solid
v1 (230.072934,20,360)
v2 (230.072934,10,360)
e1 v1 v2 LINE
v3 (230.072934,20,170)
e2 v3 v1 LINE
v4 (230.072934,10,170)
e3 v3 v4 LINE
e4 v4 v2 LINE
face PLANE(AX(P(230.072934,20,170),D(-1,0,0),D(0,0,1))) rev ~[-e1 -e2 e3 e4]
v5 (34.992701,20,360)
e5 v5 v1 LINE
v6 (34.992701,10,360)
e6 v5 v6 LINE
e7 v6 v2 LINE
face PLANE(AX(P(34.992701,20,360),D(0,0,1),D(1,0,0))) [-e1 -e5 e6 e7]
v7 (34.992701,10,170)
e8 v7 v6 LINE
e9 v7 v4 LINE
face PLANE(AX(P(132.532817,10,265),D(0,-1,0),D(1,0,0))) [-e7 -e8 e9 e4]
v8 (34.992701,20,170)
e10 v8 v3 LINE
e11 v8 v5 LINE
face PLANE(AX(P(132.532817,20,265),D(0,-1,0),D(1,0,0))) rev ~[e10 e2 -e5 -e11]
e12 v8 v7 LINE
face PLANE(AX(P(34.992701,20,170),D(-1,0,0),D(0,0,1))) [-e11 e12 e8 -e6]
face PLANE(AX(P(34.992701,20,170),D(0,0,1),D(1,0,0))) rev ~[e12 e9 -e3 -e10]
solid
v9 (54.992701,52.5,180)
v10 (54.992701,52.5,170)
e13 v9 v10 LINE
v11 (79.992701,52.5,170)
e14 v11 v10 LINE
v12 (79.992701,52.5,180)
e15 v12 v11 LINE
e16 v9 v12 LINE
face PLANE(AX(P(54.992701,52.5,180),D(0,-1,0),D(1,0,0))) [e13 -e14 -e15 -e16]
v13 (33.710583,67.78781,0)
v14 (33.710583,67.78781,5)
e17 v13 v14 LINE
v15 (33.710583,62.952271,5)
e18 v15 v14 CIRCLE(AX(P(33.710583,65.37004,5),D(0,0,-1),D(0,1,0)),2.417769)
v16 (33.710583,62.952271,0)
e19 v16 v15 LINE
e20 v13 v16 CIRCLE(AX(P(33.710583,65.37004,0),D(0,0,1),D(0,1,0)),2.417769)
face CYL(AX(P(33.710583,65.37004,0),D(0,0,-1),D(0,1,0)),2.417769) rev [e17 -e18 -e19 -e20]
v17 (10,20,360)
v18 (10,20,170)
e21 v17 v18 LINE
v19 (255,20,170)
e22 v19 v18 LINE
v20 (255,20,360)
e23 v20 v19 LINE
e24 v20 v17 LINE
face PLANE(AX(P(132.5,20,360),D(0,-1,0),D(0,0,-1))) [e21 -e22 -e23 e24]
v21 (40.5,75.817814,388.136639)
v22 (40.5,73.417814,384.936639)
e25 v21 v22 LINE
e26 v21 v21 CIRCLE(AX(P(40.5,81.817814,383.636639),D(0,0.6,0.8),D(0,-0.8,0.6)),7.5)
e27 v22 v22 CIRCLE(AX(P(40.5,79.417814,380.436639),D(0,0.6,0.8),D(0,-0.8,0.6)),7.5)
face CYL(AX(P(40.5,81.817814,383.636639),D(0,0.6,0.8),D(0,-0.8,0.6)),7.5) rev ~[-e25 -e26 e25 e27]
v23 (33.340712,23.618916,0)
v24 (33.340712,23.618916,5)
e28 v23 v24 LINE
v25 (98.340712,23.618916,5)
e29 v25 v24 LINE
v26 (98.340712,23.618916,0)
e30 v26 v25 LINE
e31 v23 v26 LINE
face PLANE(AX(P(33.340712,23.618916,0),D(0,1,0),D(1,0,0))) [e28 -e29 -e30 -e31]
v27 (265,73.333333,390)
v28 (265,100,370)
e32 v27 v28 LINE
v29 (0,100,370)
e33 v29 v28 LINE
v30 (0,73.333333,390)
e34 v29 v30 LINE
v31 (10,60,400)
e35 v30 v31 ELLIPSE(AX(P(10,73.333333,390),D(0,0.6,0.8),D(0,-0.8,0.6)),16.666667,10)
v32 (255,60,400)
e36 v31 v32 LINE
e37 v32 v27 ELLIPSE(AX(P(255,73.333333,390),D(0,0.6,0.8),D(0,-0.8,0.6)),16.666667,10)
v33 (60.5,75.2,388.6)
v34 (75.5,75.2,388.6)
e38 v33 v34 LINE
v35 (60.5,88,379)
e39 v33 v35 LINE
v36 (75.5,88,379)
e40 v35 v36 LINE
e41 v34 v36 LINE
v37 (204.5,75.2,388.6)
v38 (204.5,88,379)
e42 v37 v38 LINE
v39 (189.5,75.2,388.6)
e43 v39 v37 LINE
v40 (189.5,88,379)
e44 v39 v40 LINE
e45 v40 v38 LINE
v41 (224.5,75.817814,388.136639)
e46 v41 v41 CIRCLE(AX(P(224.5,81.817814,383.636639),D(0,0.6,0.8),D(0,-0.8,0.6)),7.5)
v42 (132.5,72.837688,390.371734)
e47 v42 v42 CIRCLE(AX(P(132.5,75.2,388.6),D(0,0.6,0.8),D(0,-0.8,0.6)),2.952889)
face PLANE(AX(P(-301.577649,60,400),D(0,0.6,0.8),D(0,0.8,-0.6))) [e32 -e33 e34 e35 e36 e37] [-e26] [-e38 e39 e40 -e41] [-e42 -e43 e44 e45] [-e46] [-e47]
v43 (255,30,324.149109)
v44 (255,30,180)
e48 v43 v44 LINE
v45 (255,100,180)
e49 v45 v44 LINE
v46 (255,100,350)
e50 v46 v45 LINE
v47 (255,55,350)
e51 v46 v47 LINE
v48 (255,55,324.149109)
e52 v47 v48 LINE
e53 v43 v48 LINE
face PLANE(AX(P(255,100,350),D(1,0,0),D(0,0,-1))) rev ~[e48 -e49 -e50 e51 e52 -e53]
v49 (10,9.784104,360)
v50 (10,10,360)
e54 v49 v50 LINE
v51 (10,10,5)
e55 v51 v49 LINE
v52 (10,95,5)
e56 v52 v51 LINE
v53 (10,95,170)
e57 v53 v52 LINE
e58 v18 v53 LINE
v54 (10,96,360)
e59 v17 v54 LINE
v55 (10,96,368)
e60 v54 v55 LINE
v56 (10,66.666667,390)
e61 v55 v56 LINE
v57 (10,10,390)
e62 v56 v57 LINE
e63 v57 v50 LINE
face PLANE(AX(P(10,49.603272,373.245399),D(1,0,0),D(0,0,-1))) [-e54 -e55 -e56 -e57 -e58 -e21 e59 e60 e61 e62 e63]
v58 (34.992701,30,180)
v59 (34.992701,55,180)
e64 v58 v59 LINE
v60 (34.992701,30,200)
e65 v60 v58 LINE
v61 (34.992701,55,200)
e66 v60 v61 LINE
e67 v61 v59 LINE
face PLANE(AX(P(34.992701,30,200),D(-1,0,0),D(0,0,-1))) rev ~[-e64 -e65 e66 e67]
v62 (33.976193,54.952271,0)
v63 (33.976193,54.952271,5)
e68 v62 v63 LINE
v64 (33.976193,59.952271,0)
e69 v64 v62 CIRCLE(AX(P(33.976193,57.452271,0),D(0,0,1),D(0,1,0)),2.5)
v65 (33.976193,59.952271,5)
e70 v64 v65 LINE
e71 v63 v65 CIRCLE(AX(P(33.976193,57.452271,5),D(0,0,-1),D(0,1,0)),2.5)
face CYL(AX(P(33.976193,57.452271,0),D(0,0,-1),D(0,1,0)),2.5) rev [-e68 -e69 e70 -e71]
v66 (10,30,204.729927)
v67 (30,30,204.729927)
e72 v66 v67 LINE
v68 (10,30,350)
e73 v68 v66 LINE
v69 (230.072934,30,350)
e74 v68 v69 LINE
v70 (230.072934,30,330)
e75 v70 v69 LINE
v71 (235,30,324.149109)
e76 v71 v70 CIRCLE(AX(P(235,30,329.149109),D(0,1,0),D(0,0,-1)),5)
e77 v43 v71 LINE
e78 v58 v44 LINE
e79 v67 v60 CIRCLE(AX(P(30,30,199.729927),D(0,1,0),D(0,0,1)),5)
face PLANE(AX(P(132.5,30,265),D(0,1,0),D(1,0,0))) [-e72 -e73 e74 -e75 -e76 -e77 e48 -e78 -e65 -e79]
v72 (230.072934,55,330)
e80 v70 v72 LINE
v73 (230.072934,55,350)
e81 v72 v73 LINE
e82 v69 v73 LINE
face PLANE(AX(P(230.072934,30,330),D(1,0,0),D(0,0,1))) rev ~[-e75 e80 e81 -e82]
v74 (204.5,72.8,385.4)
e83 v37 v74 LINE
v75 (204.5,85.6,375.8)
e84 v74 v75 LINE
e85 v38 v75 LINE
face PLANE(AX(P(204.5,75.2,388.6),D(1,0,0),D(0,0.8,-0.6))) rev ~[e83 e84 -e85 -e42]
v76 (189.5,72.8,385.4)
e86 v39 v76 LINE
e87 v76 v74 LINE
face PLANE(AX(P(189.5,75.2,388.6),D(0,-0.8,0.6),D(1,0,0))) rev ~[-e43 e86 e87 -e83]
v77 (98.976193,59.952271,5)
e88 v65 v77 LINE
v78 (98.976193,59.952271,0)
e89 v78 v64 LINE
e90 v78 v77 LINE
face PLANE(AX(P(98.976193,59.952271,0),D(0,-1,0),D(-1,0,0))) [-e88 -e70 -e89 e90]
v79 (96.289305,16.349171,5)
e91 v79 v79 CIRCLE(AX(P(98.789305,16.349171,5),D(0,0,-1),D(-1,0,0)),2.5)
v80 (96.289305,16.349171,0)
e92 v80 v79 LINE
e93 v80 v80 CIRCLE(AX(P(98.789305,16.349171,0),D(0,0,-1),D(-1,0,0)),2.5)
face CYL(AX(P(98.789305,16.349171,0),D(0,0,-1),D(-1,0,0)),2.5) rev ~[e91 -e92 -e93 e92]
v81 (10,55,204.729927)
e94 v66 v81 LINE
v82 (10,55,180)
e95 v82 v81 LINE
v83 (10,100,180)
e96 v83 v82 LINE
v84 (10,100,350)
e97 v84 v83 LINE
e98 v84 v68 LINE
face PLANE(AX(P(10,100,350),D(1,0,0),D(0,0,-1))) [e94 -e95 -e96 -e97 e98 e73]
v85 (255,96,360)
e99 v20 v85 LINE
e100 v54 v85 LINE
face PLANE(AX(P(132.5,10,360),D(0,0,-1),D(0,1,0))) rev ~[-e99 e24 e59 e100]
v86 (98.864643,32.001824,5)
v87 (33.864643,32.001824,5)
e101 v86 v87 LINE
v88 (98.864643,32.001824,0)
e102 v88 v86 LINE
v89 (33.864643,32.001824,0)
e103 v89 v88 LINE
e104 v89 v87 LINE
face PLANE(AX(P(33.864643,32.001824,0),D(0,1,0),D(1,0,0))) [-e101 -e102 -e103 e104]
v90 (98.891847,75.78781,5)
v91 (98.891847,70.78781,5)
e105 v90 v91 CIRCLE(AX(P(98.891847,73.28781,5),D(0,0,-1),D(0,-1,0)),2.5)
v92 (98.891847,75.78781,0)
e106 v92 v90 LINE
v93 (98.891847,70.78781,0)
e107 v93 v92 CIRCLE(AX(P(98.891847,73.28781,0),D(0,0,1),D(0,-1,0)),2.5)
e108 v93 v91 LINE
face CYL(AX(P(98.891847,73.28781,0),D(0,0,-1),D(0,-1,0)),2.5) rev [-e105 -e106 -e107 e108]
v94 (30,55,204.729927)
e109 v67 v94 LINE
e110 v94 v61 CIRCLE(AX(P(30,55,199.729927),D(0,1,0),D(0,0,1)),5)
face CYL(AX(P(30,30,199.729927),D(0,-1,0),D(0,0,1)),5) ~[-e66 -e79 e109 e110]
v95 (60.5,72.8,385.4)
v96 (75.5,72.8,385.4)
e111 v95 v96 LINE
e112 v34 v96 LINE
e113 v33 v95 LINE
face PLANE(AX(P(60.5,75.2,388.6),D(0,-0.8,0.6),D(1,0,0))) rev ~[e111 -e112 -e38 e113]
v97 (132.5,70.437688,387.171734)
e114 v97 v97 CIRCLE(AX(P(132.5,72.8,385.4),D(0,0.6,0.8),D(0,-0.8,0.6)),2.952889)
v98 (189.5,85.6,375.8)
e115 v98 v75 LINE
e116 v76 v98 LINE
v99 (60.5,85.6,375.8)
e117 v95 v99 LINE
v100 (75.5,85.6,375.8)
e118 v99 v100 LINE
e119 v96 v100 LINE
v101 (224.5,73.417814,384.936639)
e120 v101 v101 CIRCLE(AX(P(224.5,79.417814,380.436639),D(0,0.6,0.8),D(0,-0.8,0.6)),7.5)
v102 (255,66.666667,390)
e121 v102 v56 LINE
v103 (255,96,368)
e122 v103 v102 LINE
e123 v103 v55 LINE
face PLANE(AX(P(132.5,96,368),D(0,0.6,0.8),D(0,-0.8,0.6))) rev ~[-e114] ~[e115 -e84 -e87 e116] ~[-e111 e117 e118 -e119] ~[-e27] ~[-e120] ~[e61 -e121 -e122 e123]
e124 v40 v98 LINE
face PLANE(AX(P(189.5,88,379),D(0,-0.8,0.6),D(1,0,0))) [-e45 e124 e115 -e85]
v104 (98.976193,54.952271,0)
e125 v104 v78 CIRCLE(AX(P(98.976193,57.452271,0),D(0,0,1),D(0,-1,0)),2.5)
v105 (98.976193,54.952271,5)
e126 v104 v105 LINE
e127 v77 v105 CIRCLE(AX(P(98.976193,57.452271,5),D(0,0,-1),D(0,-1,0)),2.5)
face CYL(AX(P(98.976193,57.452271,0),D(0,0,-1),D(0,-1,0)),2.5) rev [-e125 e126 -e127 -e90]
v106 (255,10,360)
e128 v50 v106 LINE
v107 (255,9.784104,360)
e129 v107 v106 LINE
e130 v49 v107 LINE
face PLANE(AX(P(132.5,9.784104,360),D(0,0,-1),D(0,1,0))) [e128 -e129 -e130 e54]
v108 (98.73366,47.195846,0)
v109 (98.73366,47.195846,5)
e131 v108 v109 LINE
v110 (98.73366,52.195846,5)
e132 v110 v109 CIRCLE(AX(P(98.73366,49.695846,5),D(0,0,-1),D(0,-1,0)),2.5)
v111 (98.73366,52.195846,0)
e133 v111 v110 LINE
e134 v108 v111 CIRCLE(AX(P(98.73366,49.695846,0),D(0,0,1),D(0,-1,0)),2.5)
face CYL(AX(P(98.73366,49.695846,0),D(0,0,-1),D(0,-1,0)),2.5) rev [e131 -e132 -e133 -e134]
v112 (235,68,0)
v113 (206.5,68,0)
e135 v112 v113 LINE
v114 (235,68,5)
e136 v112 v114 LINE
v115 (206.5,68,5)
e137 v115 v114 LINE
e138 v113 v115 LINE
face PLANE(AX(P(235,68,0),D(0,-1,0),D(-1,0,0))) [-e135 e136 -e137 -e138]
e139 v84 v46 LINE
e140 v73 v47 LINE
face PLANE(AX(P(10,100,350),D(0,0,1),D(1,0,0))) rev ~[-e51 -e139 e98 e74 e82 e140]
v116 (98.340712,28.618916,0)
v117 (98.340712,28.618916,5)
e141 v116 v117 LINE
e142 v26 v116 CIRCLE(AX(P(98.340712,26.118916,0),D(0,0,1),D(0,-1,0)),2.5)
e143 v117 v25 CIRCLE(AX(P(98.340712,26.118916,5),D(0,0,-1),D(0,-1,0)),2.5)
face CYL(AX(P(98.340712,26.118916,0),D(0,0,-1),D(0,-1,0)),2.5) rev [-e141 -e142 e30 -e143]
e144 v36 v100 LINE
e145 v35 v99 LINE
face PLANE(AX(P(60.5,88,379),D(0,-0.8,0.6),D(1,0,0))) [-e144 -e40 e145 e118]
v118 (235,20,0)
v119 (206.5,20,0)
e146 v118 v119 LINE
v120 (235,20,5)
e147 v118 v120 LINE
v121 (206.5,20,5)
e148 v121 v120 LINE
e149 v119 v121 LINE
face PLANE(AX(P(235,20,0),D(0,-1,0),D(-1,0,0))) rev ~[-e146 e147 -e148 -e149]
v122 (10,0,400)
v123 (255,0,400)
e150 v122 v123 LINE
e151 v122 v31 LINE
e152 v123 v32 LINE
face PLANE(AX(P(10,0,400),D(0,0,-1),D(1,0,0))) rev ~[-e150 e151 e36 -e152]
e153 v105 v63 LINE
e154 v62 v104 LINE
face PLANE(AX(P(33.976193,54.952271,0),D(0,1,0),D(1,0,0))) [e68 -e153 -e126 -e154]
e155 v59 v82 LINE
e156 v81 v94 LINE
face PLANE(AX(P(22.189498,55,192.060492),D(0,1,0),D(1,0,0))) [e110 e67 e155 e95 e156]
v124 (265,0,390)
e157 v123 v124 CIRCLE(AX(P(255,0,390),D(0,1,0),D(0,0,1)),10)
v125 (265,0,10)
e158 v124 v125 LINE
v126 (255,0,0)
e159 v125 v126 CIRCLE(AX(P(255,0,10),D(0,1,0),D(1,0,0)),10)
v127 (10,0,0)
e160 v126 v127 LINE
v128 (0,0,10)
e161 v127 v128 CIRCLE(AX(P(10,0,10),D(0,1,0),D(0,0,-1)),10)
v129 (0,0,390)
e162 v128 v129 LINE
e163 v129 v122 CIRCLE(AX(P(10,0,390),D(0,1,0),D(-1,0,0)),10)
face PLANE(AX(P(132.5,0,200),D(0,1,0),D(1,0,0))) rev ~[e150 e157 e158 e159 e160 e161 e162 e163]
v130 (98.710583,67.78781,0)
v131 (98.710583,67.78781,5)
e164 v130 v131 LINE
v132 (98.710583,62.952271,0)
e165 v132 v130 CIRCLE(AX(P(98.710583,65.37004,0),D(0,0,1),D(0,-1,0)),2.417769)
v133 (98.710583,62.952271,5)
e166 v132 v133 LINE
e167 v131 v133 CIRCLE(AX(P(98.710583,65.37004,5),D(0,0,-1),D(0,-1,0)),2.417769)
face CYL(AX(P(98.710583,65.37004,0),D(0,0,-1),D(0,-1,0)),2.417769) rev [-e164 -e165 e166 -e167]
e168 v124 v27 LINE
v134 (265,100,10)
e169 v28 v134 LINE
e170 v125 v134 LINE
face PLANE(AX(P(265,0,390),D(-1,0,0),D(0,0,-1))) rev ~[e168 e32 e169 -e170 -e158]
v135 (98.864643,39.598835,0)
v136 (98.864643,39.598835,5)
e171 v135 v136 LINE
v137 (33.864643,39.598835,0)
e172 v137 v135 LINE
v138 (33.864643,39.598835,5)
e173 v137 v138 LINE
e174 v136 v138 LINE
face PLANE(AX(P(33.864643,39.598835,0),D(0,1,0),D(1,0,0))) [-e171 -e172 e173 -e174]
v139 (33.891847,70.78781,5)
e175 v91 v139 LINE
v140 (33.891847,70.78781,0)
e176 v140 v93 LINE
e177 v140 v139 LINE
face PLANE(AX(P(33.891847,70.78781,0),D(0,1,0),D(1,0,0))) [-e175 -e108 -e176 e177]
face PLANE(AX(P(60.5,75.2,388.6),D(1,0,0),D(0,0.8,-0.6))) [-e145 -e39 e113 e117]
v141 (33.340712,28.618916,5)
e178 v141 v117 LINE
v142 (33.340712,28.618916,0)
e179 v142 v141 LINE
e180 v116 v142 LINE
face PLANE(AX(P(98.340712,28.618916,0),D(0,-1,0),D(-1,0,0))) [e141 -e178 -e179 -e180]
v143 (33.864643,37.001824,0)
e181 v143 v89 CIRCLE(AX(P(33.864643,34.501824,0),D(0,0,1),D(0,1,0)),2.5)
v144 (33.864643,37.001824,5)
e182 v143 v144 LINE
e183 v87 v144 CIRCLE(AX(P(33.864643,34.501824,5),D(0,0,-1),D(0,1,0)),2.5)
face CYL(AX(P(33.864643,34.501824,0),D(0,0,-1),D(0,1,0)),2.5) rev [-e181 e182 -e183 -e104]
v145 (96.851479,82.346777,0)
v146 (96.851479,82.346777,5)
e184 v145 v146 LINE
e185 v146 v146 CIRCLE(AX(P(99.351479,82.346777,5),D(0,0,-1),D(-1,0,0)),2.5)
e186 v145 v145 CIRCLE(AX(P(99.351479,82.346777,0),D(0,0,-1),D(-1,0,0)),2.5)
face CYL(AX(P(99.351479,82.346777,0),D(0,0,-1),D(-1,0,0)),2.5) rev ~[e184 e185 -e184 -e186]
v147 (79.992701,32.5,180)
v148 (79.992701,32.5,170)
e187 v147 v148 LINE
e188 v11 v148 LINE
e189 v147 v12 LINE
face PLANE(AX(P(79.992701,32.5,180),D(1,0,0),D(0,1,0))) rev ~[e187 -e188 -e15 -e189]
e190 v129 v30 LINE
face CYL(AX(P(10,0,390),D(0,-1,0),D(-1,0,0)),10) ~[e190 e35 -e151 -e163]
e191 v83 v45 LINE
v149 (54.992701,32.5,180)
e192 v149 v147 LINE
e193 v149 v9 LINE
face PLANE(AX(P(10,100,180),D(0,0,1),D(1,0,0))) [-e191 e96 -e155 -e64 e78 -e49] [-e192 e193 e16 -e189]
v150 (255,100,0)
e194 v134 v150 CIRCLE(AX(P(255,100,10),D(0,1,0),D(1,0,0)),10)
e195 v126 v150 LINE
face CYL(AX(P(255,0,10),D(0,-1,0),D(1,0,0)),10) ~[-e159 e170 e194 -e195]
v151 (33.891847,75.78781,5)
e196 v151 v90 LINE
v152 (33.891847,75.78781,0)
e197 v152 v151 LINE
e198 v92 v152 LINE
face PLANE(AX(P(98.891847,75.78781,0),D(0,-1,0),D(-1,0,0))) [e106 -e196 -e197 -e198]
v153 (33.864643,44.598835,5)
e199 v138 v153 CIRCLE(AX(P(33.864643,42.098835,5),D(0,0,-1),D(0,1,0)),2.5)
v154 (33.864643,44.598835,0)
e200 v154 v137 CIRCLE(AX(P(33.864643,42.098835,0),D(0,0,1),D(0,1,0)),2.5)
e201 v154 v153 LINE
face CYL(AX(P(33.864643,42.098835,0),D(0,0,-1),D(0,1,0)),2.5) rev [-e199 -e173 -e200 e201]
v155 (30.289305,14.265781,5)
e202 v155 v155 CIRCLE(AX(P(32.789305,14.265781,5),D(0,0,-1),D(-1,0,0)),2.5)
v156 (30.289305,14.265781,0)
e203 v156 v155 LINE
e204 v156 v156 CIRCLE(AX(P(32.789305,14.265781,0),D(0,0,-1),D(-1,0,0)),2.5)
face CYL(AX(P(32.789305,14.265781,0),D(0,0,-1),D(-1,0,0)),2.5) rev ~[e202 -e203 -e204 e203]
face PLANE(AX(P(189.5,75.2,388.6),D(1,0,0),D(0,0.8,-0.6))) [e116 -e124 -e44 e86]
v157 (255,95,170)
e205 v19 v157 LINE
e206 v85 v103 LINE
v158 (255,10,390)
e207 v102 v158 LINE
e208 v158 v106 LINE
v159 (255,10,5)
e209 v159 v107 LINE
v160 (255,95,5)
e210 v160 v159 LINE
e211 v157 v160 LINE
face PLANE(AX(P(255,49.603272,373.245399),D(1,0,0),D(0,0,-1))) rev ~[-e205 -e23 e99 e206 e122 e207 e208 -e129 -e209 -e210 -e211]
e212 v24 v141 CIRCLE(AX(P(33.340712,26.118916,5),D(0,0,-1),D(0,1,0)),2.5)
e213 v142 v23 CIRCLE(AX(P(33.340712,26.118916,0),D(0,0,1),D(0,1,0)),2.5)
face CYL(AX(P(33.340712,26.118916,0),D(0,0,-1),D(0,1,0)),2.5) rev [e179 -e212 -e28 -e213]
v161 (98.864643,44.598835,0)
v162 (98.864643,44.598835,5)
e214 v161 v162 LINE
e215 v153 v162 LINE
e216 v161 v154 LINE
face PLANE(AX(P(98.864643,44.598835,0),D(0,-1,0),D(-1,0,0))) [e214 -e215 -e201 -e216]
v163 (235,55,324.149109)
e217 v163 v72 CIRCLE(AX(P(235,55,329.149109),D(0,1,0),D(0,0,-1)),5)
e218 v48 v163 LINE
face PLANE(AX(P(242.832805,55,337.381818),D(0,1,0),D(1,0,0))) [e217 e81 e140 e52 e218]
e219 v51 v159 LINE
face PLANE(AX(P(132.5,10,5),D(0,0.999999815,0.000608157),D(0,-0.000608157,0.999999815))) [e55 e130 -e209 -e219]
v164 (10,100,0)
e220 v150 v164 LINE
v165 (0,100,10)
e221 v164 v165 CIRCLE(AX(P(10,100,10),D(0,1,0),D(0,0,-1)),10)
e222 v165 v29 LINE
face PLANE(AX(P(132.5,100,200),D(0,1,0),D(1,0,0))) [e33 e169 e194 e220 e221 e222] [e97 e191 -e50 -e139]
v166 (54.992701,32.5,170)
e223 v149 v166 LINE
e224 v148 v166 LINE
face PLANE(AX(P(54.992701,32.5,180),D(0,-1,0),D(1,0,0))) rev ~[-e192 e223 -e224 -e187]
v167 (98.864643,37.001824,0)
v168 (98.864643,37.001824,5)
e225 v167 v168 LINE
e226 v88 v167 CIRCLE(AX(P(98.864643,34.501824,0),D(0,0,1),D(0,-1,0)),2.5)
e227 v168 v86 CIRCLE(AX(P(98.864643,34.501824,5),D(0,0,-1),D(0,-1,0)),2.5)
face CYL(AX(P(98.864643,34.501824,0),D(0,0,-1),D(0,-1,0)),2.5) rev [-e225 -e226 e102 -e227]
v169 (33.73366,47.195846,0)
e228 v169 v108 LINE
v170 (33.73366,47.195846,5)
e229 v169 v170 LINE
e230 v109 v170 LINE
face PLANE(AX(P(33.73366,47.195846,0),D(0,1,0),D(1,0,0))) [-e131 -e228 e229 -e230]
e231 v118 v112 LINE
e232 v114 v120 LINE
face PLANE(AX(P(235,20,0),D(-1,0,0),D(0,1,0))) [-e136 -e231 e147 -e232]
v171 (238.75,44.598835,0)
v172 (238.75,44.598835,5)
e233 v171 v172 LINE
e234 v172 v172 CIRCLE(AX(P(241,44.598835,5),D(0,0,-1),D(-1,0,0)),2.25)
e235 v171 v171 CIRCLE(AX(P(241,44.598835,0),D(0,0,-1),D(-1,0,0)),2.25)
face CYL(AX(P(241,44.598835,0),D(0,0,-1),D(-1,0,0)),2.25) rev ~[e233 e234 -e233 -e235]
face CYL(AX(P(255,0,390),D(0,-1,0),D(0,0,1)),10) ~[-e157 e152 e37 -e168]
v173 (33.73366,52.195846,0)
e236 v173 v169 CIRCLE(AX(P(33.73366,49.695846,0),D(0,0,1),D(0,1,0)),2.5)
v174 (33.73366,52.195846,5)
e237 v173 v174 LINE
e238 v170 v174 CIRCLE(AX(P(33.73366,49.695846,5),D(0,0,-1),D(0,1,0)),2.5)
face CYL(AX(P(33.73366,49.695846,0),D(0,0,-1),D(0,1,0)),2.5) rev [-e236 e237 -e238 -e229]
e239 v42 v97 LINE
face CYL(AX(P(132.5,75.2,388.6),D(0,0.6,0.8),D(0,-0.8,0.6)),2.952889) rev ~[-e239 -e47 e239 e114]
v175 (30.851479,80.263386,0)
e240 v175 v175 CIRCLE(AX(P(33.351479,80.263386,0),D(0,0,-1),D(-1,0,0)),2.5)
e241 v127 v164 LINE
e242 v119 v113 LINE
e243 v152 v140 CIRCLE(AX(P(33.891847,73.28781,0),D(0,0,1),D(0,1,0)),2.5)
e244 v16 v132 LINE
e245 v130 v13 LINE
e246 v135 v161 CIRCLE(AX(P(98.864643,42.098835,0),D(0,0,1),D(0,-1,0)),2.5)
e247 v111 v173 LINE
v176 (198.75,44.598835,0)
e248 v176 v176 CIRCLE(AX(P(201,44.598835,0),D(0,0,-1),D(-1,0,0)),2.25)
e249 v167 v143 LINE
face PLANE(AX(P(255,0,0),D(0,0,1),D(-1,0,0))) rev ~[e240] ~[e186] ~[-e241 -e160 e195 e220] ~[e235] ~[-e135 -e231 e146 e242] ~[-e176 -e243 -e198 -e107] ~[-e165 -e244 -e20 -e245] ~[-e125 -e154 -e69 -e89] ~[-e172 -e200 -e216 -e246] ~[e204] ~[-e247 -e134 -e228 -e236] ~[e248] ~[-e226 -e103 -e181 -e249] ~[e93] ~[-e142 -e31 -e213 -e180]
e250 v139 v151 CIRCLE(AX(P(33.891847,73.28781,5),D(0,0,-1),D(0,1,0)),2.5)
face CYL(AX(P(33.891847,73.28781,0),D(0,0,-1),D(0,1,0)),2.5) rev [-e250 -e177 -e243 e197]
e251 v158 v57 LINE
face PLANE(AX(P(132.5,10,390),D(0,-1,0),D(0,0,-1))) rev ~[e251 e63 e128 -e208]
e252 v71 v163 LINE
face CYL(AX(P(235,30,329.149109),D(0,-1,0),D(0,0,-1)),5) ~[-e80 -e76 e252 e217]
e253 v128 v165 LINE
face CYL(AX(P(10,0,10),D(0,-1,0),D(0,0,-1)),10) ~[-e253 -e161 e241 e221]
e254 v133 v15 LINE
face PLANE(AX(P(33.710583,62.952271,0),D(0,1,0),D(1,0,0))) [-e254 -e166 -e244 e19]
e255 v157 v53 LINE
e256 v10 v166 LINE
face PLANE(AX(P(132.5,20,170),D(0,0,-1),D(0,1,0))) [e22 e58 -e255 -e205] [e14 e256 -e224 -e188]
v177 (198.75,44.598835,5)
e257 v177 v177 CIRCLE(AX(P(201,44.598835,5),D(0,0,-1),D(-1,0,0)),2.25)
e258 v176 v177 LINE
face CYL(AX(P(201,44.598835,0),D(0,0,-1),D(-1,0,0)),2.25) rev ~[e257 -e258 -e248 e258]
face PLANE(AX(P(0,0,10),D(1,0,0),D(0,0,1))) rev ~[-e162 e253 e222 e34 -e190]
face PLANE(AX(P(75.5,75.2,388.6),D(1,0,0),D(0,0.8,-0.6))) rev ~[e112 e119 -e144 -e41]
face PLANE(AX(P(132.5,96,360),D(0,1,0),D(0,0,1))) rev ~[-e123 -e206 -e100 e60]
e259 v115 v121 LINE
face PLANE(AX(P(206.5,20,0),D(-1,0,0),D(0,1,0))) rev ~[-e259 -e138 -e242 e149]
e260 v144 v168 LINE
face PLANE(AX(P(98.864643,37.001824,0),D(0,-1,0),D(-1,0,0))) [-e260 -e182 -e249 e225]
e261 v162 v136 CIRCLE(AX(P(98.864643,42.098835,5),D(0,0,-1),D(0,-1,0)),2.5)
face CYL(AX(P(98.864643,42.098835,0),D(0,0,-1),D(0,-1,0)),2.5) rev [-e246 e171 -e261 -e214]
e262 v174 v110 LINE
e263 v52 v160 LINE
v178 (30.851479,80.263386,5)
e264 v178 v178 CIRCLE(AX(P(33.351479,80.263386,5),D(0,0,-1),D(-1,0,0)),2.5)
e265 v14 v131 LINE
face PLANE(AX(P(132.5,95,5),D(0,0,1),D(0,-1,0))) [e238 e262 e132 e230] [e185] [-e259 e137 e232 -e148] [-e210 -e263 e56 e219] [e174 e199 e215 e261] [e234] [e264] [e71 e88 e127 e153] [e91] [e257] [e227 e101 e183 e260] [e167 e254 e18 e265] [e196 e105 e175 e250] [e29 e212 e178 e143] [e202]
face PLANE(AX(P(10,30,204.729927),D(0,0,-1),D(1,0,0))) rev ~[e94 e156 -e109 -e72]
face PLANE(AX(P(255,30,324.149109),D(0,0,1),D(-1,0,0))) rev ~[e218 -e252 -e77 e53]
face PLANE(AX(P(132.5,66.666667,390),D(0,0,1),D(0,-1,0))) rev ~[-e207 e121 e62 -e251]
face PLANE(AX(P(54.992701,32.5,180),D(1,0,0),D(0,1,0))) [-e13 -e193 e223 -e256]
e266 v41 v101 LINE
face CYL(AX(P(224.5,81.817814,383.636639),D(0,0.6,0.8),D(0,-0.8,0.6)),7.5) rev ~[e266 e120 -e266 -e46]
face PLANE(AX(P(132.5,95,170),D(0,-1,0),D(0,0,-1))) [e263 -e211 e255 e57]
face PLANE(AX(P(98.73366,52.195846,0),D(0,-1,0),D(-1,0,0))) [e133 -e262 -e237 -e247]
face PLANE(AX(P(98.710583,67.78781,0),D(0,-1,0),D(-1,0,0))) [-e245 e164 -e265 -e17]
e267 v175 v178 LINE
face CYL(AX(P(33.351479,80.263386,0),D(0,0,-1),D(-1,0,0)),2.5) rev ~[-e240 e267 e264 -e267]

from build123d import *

# Parameters (mm, degrees)
BOSS_EXTRUDE2_DEPTH      = 100
SKETCH4_W                = 245
SKETCH4_H                = 170
CUT_EXTRUDE2_DEPTH       = 70
CUT_EXTRUDE12_DEPTH      = 434.077648927
CUT_EXTRUDE12_DEPTH_BACK = 434.077648927
CUT_EXTRUDE13_DEPTH      = 122.5
CUT_EXTRUDE14_DEPTH      = 122.5
SKETCH16_R               = 2.5
SKETCH16_R_2             = 2.25
SKETCH16_W               = 28.5
SKETCH16_H               = 48
CUT_EXTRUDE15_DEPTH      = 30
SKETCH17_R               = 2.952889484
SKETCH17_R_2             = 7.5
SKETCH17_W               = 15
SKETCH17_H               = 16
CUT_EXTRUDE16_DEPTH      = 10
BOSS_EXTRUDE3_DEPTH      = 25
SKETCH19_W               = 25
SKETCH19_H               = 20
CUT_EXTRUDE17_DEPTH      = 15
SKETCH21_W               = 195.080232819
SKETCH21_H               = 190
BOSS_EXTRUDE9_DEPTH      = 10


with BuildPart() as part:
    # Sketch1 → Boss-Extrude2 (new body)
    with BuildSketch(Plane(origin=(0, 0, 0), x_dir=(1, 0, 0), z_dir=(0, 1, 0))):
        with BuildLine():
            Line((0, -10), (0, -390))
            ThreePointArc((0, -390), (2.928932188, -397.071067812), (10, -400))
            Line((10, -400), (255, -400))
            ThreePointArc((255, -400), (262.071067812, -397.071067812), (265, -390))
            Line((265, -390), (265, -10))
            ThreePointArc((265, -10), (262.071067812, -2.928932188), (255, 0))
            Line((255, 0), (10, 0))
            ThreePointArc((10, 0), (2.928932188, -2.928932188), (0, -10))
        make_face()
    extrude(amount=BOSS_EXTRUDE2_DEPTH)

    # Sketch4 → Cut-Extrude2 (cut)
    with BuildSketch(Plane(origin=(0, 100, 0), x_dir=(1, 0, 0), z_dir=(0, 1, 0))):
        with Locations((132.5, -265)):
            Rectangle(SKETCH4_W, SKETCH4_H)
    extrude(amount=-CUT_EXTRUDE2_DEPTH, mode=Mode.SUBTRACT)

    # Sketch10 → Cut-Extrude12 (cut, two sides: drawn at the far end of the back side and taken through both)
    with BuildSketch(Plane(origin=(132.5, 0, 0), x_dir=(0, 0, -1), z_dir=(1, 0, 0)).offset(-CUT_EXTRUDE12_DEPTH_BACK)):
        Polygon((-400, 60), (-370, 100), (-400, 100), align=None)
    extrude(amount=CUT_EXTRUDE12_DEPTH + CUT_EXTRUDE12_DEPTH_BACK, mode=Mode.SUBTRACT)

    # Sketch14 → Cut-Extrude13 (cut, symmetric)
    with BuildSketch(Plane(origin=(132.5, 0, 0), x_dir=(0, 0, -1), z_dir=(1, 0, 0))):
        Polygon((-390, 10), (-360, 10), (-360, 96), (-368, 96), (-390, 66.666666667), align=None)
    extrude(amount=CUT_EXTRUDE13_DEPTH, both=True, mode=Mode.SUBTRACT)

    # Sketch15 → Cut-Extrude14 (cut, symmetric)
    with BuildSketch(Plane(origin=(132.5, 0, 0), x_dir=(0, 0, -1), z_dir=(1, 0, 0))):
        Polygon((-360, 9.784104138), (-360, 20), (-170, 20), (-170, 95), (-5, 95), (-5, 10), align=None)
    extrude(amount=CUT_EXTRUDE14_DEPTH, both=True, mode=Mode.SUBTRACT)

    # Sketch16 → Cut-Extrude15 (cut)
    with BuildSketch(Plane(origin=(0, 0, 0), x_dir=(-1, 0, 0), z_dir=(0, 0, -1))):
        with Locations((-99.351479045, 82.346777086)):
            Circle(SKETCH16_R)
        with Locations((-32.789304606, 14.265780679)):
            Circle(SKETCH16_R)
        with Locations((-33.351479045, 80.263386392)):
            Circle(SKETCH16_R)
        with Locations((-98.789304606, 16.349171373)):
            Circle(SKETCH16_R)
        with Locations((-241, 44.598834986)):
            Circle(SKETCH16_R_2)
        with Locations((-201, 44.598834986)):
            Circle(SKETCH16_R_2)
        with BuildLine():
            Line((-98.891846609, 75.787809753), (-33.891846609, 75.787809753))
            ThreePointArc((-33.891846609, 75.787809753), (-31.391846609, 73.287809753), (-33.891846609, 70.787809753))
            Line((-33.891846609, 70.787809753), (-98.891846609, 70.787809753))
            ThreePointArc((-98.891846609, 70.787809753), (-101.391846609, 73.287809753), (-98.891846609, 75.787809753))
        make_face()
        with BuildLine():
            Line((-98.710582977, 67.787809753), (-33.710582977, 67.787809753))
            ThreePointArc((-33.710582977, 67.787809753), (-31.292813717, 65.370040492), (-33.710582977, 62.952271231))
            Line((-33.710582977, 62.952271231), (-98.710582977, 62.952271231))
            ThreePointArc((-98.710582977, 62.952271231), (-101.128352238, 65.370040492), (-98.710582977, 67.787809753))
        make_face()
        with BuildLine():
            Line((-98.976192668, 59.952271231), (-33.976192668, 59.952271231))
            ThreePointArc((-33.976192668, 59.952271231), (-31.476192668, 57.452271231), (-33.976192668, 54.952271231))
            Line((-33.976192668, 54.952271231), (-98.976192668, 54.952271231))
            ThreePointArc((-98.976192668, 54.952271231), (-101.476192668, 57.452271231), (-98.976192668, 59.952271231))
        make_face()
        with BuildLine():
            Line((-98.733660424, 52.195845601), (-33.733660424, 52.195845601))
            ThreePointArc((-33.733660424, 52.195845601), (-31.233660424, 49.695845601), (-33.733660424, 47.195845601))
            Line((-33.733660424, 47.195845601), (-98.733660424, 47.195845601))
            ThreePointArc((-98.733660424, 47.195845601), (-101.233660424, 49.695845601), (-98.733660424, 52.195845601))
        make_face()
        with BuildLine():
            Line((-98.864643365, 44.598834986), (-33.864643365, 44.598834986))
            ThreePointArc((-33.864643365, 44.598834986), (-31.364643365, 42.098834986), (-33.864643365, 39.598834986))
            Line((-33.864643365, 39.598834986), (-98.864643365, 39.598834986))
            ThreePointArc((-98.864643365, 39.598834986), (-101.364643365, 42.098834986), (-98.864643365, 44.598834986))
        make_face()
        with BuildLine():
            Line((-98.864643365, 37.00182437), (-33.864643365, 37.00182437))
            ThreePointArc((-33.864643365, 37.00182437), (-31.364643365, 34.50182437), (-33.864643365, 32.00182437))
            Line((-33.864643365, 32.00182437), (-98.864643365, 32.00182437))
            ThreePointArc((-98.864643365, 32.00182437), (-101.364643365, 34.50182437), (-98.864643365, 37.00182437))
        make_face()
        with BuildLine():
            Line((-98.340711599, 28.618916104), (-33.340711599, 28.618916104))
            ThreePointArc((-33.340711599, 28.618916104), (-30.840711599, 26.118916104), (-33.340711599, 23.618916104))
            Line((-33.340711599, 23.618916104), (-98.340711599, 23.618916104))
            ThreePointArc((-98.340711599, 23.618916104), (-100.840711599, 26.118916104), (-98.340711599, 28.618916104))
        make_face()
        with Locations((-220.75, 44)):
            Rectangle(SKETCH16_W, SKETCH16_H)
    extrude(amount=-CUT_EXTRUDE15_DEPTH, mode=Mode.SUBTRACT)

    # Sketch17 → Cut-Extrude16 (cut)
    with BuildSketch(Plane(origin=(0, 213.6, 284.8), x_dir=(1, 0, 0), z_dir=(0, 0.5999999999999998, 0.8000000000000004))):
        with Locations(Location((132.5, -173, 0), (0, 0, 270))):
            Circle(SKETCH17_R)
        with Locations(Location((40.5, -164.727732251, 0), (0, 0, 270))):
            Circle(SKETCH17_R_2)
        with Locations(Location((224.5, -164.727732251, 0), (0, 0, 270))):
            Circle(SKETCH17_R_2)
        with Locations((68, -165)):
            Rectangle(SKETCH17_W, SKETCH17_H)
        with Locations((197, -165)):
            Rectangle(SKETCH17_W, SKETCH17_H)
    extrude(amount=-CUT_EXTRUDE16_DEPTH, mode=Mode.SUBTRACT)

    # Sketch18 → Boss-Extrude3 (add)
    with BuildSketch(Plane(origin=(0, 30, 0), x_dir=(1, 0, 0), z_dir=(0, 1, 0))):
        with BuildLine():
            Line((10, -180), (10, -204.729927007))
            Line((10, -204.729927007), (30, -204.729927007))
            ThreePointArc((30, -204.729927007), (33.43872324, -203.359690427), (34.99270073, -200))
            Line((34.99270073, -200), (34.99270073, -180))
            Line((34.99270073, -180), (10, -180))
        make_face()
        with BuildLine():
            Line((255, -350), (255, -324.14910859))
            Line((255, -324.14910859), (235, -324.14910859))
            ThreePointArc((235, -324.14910859), (231.175444009, -325.928429861), (230.072933549, -330))
            Line((230.072933549, -330), (230.072933549, -350))
            Line((230.072933549, -350), (255, -350))
        make_face()
    extrude(amount=BOSS_EXTRUDE3_DEPTH)

    # Sketch19 → Cut-Extrude17 (cut)
    with BuildSketch(Plane.XY.offset(180)):
        with Locations((67.49270073, 42.5)):
            Rectangle(SKETCH19_W, SKETCH19_H)
    extrude(amount=-CUT_EXTRUDE17_DEPTH, mode=Mode.SUBTRACT)


with BuildPart() as body_2:
    # Sketch21 → Boss-Extrude9 (new body)
    with BuildSketch(Plane.XZ.offset(-20)):
        with Locations((132.53281714, 265)):
            Rectangle(SKETCH21_W, SKETCH21_H)
    extrude(amount=BOSS_EXTRUDE9_DEPTH)


solid = Compound([part.part, body_2.part])
